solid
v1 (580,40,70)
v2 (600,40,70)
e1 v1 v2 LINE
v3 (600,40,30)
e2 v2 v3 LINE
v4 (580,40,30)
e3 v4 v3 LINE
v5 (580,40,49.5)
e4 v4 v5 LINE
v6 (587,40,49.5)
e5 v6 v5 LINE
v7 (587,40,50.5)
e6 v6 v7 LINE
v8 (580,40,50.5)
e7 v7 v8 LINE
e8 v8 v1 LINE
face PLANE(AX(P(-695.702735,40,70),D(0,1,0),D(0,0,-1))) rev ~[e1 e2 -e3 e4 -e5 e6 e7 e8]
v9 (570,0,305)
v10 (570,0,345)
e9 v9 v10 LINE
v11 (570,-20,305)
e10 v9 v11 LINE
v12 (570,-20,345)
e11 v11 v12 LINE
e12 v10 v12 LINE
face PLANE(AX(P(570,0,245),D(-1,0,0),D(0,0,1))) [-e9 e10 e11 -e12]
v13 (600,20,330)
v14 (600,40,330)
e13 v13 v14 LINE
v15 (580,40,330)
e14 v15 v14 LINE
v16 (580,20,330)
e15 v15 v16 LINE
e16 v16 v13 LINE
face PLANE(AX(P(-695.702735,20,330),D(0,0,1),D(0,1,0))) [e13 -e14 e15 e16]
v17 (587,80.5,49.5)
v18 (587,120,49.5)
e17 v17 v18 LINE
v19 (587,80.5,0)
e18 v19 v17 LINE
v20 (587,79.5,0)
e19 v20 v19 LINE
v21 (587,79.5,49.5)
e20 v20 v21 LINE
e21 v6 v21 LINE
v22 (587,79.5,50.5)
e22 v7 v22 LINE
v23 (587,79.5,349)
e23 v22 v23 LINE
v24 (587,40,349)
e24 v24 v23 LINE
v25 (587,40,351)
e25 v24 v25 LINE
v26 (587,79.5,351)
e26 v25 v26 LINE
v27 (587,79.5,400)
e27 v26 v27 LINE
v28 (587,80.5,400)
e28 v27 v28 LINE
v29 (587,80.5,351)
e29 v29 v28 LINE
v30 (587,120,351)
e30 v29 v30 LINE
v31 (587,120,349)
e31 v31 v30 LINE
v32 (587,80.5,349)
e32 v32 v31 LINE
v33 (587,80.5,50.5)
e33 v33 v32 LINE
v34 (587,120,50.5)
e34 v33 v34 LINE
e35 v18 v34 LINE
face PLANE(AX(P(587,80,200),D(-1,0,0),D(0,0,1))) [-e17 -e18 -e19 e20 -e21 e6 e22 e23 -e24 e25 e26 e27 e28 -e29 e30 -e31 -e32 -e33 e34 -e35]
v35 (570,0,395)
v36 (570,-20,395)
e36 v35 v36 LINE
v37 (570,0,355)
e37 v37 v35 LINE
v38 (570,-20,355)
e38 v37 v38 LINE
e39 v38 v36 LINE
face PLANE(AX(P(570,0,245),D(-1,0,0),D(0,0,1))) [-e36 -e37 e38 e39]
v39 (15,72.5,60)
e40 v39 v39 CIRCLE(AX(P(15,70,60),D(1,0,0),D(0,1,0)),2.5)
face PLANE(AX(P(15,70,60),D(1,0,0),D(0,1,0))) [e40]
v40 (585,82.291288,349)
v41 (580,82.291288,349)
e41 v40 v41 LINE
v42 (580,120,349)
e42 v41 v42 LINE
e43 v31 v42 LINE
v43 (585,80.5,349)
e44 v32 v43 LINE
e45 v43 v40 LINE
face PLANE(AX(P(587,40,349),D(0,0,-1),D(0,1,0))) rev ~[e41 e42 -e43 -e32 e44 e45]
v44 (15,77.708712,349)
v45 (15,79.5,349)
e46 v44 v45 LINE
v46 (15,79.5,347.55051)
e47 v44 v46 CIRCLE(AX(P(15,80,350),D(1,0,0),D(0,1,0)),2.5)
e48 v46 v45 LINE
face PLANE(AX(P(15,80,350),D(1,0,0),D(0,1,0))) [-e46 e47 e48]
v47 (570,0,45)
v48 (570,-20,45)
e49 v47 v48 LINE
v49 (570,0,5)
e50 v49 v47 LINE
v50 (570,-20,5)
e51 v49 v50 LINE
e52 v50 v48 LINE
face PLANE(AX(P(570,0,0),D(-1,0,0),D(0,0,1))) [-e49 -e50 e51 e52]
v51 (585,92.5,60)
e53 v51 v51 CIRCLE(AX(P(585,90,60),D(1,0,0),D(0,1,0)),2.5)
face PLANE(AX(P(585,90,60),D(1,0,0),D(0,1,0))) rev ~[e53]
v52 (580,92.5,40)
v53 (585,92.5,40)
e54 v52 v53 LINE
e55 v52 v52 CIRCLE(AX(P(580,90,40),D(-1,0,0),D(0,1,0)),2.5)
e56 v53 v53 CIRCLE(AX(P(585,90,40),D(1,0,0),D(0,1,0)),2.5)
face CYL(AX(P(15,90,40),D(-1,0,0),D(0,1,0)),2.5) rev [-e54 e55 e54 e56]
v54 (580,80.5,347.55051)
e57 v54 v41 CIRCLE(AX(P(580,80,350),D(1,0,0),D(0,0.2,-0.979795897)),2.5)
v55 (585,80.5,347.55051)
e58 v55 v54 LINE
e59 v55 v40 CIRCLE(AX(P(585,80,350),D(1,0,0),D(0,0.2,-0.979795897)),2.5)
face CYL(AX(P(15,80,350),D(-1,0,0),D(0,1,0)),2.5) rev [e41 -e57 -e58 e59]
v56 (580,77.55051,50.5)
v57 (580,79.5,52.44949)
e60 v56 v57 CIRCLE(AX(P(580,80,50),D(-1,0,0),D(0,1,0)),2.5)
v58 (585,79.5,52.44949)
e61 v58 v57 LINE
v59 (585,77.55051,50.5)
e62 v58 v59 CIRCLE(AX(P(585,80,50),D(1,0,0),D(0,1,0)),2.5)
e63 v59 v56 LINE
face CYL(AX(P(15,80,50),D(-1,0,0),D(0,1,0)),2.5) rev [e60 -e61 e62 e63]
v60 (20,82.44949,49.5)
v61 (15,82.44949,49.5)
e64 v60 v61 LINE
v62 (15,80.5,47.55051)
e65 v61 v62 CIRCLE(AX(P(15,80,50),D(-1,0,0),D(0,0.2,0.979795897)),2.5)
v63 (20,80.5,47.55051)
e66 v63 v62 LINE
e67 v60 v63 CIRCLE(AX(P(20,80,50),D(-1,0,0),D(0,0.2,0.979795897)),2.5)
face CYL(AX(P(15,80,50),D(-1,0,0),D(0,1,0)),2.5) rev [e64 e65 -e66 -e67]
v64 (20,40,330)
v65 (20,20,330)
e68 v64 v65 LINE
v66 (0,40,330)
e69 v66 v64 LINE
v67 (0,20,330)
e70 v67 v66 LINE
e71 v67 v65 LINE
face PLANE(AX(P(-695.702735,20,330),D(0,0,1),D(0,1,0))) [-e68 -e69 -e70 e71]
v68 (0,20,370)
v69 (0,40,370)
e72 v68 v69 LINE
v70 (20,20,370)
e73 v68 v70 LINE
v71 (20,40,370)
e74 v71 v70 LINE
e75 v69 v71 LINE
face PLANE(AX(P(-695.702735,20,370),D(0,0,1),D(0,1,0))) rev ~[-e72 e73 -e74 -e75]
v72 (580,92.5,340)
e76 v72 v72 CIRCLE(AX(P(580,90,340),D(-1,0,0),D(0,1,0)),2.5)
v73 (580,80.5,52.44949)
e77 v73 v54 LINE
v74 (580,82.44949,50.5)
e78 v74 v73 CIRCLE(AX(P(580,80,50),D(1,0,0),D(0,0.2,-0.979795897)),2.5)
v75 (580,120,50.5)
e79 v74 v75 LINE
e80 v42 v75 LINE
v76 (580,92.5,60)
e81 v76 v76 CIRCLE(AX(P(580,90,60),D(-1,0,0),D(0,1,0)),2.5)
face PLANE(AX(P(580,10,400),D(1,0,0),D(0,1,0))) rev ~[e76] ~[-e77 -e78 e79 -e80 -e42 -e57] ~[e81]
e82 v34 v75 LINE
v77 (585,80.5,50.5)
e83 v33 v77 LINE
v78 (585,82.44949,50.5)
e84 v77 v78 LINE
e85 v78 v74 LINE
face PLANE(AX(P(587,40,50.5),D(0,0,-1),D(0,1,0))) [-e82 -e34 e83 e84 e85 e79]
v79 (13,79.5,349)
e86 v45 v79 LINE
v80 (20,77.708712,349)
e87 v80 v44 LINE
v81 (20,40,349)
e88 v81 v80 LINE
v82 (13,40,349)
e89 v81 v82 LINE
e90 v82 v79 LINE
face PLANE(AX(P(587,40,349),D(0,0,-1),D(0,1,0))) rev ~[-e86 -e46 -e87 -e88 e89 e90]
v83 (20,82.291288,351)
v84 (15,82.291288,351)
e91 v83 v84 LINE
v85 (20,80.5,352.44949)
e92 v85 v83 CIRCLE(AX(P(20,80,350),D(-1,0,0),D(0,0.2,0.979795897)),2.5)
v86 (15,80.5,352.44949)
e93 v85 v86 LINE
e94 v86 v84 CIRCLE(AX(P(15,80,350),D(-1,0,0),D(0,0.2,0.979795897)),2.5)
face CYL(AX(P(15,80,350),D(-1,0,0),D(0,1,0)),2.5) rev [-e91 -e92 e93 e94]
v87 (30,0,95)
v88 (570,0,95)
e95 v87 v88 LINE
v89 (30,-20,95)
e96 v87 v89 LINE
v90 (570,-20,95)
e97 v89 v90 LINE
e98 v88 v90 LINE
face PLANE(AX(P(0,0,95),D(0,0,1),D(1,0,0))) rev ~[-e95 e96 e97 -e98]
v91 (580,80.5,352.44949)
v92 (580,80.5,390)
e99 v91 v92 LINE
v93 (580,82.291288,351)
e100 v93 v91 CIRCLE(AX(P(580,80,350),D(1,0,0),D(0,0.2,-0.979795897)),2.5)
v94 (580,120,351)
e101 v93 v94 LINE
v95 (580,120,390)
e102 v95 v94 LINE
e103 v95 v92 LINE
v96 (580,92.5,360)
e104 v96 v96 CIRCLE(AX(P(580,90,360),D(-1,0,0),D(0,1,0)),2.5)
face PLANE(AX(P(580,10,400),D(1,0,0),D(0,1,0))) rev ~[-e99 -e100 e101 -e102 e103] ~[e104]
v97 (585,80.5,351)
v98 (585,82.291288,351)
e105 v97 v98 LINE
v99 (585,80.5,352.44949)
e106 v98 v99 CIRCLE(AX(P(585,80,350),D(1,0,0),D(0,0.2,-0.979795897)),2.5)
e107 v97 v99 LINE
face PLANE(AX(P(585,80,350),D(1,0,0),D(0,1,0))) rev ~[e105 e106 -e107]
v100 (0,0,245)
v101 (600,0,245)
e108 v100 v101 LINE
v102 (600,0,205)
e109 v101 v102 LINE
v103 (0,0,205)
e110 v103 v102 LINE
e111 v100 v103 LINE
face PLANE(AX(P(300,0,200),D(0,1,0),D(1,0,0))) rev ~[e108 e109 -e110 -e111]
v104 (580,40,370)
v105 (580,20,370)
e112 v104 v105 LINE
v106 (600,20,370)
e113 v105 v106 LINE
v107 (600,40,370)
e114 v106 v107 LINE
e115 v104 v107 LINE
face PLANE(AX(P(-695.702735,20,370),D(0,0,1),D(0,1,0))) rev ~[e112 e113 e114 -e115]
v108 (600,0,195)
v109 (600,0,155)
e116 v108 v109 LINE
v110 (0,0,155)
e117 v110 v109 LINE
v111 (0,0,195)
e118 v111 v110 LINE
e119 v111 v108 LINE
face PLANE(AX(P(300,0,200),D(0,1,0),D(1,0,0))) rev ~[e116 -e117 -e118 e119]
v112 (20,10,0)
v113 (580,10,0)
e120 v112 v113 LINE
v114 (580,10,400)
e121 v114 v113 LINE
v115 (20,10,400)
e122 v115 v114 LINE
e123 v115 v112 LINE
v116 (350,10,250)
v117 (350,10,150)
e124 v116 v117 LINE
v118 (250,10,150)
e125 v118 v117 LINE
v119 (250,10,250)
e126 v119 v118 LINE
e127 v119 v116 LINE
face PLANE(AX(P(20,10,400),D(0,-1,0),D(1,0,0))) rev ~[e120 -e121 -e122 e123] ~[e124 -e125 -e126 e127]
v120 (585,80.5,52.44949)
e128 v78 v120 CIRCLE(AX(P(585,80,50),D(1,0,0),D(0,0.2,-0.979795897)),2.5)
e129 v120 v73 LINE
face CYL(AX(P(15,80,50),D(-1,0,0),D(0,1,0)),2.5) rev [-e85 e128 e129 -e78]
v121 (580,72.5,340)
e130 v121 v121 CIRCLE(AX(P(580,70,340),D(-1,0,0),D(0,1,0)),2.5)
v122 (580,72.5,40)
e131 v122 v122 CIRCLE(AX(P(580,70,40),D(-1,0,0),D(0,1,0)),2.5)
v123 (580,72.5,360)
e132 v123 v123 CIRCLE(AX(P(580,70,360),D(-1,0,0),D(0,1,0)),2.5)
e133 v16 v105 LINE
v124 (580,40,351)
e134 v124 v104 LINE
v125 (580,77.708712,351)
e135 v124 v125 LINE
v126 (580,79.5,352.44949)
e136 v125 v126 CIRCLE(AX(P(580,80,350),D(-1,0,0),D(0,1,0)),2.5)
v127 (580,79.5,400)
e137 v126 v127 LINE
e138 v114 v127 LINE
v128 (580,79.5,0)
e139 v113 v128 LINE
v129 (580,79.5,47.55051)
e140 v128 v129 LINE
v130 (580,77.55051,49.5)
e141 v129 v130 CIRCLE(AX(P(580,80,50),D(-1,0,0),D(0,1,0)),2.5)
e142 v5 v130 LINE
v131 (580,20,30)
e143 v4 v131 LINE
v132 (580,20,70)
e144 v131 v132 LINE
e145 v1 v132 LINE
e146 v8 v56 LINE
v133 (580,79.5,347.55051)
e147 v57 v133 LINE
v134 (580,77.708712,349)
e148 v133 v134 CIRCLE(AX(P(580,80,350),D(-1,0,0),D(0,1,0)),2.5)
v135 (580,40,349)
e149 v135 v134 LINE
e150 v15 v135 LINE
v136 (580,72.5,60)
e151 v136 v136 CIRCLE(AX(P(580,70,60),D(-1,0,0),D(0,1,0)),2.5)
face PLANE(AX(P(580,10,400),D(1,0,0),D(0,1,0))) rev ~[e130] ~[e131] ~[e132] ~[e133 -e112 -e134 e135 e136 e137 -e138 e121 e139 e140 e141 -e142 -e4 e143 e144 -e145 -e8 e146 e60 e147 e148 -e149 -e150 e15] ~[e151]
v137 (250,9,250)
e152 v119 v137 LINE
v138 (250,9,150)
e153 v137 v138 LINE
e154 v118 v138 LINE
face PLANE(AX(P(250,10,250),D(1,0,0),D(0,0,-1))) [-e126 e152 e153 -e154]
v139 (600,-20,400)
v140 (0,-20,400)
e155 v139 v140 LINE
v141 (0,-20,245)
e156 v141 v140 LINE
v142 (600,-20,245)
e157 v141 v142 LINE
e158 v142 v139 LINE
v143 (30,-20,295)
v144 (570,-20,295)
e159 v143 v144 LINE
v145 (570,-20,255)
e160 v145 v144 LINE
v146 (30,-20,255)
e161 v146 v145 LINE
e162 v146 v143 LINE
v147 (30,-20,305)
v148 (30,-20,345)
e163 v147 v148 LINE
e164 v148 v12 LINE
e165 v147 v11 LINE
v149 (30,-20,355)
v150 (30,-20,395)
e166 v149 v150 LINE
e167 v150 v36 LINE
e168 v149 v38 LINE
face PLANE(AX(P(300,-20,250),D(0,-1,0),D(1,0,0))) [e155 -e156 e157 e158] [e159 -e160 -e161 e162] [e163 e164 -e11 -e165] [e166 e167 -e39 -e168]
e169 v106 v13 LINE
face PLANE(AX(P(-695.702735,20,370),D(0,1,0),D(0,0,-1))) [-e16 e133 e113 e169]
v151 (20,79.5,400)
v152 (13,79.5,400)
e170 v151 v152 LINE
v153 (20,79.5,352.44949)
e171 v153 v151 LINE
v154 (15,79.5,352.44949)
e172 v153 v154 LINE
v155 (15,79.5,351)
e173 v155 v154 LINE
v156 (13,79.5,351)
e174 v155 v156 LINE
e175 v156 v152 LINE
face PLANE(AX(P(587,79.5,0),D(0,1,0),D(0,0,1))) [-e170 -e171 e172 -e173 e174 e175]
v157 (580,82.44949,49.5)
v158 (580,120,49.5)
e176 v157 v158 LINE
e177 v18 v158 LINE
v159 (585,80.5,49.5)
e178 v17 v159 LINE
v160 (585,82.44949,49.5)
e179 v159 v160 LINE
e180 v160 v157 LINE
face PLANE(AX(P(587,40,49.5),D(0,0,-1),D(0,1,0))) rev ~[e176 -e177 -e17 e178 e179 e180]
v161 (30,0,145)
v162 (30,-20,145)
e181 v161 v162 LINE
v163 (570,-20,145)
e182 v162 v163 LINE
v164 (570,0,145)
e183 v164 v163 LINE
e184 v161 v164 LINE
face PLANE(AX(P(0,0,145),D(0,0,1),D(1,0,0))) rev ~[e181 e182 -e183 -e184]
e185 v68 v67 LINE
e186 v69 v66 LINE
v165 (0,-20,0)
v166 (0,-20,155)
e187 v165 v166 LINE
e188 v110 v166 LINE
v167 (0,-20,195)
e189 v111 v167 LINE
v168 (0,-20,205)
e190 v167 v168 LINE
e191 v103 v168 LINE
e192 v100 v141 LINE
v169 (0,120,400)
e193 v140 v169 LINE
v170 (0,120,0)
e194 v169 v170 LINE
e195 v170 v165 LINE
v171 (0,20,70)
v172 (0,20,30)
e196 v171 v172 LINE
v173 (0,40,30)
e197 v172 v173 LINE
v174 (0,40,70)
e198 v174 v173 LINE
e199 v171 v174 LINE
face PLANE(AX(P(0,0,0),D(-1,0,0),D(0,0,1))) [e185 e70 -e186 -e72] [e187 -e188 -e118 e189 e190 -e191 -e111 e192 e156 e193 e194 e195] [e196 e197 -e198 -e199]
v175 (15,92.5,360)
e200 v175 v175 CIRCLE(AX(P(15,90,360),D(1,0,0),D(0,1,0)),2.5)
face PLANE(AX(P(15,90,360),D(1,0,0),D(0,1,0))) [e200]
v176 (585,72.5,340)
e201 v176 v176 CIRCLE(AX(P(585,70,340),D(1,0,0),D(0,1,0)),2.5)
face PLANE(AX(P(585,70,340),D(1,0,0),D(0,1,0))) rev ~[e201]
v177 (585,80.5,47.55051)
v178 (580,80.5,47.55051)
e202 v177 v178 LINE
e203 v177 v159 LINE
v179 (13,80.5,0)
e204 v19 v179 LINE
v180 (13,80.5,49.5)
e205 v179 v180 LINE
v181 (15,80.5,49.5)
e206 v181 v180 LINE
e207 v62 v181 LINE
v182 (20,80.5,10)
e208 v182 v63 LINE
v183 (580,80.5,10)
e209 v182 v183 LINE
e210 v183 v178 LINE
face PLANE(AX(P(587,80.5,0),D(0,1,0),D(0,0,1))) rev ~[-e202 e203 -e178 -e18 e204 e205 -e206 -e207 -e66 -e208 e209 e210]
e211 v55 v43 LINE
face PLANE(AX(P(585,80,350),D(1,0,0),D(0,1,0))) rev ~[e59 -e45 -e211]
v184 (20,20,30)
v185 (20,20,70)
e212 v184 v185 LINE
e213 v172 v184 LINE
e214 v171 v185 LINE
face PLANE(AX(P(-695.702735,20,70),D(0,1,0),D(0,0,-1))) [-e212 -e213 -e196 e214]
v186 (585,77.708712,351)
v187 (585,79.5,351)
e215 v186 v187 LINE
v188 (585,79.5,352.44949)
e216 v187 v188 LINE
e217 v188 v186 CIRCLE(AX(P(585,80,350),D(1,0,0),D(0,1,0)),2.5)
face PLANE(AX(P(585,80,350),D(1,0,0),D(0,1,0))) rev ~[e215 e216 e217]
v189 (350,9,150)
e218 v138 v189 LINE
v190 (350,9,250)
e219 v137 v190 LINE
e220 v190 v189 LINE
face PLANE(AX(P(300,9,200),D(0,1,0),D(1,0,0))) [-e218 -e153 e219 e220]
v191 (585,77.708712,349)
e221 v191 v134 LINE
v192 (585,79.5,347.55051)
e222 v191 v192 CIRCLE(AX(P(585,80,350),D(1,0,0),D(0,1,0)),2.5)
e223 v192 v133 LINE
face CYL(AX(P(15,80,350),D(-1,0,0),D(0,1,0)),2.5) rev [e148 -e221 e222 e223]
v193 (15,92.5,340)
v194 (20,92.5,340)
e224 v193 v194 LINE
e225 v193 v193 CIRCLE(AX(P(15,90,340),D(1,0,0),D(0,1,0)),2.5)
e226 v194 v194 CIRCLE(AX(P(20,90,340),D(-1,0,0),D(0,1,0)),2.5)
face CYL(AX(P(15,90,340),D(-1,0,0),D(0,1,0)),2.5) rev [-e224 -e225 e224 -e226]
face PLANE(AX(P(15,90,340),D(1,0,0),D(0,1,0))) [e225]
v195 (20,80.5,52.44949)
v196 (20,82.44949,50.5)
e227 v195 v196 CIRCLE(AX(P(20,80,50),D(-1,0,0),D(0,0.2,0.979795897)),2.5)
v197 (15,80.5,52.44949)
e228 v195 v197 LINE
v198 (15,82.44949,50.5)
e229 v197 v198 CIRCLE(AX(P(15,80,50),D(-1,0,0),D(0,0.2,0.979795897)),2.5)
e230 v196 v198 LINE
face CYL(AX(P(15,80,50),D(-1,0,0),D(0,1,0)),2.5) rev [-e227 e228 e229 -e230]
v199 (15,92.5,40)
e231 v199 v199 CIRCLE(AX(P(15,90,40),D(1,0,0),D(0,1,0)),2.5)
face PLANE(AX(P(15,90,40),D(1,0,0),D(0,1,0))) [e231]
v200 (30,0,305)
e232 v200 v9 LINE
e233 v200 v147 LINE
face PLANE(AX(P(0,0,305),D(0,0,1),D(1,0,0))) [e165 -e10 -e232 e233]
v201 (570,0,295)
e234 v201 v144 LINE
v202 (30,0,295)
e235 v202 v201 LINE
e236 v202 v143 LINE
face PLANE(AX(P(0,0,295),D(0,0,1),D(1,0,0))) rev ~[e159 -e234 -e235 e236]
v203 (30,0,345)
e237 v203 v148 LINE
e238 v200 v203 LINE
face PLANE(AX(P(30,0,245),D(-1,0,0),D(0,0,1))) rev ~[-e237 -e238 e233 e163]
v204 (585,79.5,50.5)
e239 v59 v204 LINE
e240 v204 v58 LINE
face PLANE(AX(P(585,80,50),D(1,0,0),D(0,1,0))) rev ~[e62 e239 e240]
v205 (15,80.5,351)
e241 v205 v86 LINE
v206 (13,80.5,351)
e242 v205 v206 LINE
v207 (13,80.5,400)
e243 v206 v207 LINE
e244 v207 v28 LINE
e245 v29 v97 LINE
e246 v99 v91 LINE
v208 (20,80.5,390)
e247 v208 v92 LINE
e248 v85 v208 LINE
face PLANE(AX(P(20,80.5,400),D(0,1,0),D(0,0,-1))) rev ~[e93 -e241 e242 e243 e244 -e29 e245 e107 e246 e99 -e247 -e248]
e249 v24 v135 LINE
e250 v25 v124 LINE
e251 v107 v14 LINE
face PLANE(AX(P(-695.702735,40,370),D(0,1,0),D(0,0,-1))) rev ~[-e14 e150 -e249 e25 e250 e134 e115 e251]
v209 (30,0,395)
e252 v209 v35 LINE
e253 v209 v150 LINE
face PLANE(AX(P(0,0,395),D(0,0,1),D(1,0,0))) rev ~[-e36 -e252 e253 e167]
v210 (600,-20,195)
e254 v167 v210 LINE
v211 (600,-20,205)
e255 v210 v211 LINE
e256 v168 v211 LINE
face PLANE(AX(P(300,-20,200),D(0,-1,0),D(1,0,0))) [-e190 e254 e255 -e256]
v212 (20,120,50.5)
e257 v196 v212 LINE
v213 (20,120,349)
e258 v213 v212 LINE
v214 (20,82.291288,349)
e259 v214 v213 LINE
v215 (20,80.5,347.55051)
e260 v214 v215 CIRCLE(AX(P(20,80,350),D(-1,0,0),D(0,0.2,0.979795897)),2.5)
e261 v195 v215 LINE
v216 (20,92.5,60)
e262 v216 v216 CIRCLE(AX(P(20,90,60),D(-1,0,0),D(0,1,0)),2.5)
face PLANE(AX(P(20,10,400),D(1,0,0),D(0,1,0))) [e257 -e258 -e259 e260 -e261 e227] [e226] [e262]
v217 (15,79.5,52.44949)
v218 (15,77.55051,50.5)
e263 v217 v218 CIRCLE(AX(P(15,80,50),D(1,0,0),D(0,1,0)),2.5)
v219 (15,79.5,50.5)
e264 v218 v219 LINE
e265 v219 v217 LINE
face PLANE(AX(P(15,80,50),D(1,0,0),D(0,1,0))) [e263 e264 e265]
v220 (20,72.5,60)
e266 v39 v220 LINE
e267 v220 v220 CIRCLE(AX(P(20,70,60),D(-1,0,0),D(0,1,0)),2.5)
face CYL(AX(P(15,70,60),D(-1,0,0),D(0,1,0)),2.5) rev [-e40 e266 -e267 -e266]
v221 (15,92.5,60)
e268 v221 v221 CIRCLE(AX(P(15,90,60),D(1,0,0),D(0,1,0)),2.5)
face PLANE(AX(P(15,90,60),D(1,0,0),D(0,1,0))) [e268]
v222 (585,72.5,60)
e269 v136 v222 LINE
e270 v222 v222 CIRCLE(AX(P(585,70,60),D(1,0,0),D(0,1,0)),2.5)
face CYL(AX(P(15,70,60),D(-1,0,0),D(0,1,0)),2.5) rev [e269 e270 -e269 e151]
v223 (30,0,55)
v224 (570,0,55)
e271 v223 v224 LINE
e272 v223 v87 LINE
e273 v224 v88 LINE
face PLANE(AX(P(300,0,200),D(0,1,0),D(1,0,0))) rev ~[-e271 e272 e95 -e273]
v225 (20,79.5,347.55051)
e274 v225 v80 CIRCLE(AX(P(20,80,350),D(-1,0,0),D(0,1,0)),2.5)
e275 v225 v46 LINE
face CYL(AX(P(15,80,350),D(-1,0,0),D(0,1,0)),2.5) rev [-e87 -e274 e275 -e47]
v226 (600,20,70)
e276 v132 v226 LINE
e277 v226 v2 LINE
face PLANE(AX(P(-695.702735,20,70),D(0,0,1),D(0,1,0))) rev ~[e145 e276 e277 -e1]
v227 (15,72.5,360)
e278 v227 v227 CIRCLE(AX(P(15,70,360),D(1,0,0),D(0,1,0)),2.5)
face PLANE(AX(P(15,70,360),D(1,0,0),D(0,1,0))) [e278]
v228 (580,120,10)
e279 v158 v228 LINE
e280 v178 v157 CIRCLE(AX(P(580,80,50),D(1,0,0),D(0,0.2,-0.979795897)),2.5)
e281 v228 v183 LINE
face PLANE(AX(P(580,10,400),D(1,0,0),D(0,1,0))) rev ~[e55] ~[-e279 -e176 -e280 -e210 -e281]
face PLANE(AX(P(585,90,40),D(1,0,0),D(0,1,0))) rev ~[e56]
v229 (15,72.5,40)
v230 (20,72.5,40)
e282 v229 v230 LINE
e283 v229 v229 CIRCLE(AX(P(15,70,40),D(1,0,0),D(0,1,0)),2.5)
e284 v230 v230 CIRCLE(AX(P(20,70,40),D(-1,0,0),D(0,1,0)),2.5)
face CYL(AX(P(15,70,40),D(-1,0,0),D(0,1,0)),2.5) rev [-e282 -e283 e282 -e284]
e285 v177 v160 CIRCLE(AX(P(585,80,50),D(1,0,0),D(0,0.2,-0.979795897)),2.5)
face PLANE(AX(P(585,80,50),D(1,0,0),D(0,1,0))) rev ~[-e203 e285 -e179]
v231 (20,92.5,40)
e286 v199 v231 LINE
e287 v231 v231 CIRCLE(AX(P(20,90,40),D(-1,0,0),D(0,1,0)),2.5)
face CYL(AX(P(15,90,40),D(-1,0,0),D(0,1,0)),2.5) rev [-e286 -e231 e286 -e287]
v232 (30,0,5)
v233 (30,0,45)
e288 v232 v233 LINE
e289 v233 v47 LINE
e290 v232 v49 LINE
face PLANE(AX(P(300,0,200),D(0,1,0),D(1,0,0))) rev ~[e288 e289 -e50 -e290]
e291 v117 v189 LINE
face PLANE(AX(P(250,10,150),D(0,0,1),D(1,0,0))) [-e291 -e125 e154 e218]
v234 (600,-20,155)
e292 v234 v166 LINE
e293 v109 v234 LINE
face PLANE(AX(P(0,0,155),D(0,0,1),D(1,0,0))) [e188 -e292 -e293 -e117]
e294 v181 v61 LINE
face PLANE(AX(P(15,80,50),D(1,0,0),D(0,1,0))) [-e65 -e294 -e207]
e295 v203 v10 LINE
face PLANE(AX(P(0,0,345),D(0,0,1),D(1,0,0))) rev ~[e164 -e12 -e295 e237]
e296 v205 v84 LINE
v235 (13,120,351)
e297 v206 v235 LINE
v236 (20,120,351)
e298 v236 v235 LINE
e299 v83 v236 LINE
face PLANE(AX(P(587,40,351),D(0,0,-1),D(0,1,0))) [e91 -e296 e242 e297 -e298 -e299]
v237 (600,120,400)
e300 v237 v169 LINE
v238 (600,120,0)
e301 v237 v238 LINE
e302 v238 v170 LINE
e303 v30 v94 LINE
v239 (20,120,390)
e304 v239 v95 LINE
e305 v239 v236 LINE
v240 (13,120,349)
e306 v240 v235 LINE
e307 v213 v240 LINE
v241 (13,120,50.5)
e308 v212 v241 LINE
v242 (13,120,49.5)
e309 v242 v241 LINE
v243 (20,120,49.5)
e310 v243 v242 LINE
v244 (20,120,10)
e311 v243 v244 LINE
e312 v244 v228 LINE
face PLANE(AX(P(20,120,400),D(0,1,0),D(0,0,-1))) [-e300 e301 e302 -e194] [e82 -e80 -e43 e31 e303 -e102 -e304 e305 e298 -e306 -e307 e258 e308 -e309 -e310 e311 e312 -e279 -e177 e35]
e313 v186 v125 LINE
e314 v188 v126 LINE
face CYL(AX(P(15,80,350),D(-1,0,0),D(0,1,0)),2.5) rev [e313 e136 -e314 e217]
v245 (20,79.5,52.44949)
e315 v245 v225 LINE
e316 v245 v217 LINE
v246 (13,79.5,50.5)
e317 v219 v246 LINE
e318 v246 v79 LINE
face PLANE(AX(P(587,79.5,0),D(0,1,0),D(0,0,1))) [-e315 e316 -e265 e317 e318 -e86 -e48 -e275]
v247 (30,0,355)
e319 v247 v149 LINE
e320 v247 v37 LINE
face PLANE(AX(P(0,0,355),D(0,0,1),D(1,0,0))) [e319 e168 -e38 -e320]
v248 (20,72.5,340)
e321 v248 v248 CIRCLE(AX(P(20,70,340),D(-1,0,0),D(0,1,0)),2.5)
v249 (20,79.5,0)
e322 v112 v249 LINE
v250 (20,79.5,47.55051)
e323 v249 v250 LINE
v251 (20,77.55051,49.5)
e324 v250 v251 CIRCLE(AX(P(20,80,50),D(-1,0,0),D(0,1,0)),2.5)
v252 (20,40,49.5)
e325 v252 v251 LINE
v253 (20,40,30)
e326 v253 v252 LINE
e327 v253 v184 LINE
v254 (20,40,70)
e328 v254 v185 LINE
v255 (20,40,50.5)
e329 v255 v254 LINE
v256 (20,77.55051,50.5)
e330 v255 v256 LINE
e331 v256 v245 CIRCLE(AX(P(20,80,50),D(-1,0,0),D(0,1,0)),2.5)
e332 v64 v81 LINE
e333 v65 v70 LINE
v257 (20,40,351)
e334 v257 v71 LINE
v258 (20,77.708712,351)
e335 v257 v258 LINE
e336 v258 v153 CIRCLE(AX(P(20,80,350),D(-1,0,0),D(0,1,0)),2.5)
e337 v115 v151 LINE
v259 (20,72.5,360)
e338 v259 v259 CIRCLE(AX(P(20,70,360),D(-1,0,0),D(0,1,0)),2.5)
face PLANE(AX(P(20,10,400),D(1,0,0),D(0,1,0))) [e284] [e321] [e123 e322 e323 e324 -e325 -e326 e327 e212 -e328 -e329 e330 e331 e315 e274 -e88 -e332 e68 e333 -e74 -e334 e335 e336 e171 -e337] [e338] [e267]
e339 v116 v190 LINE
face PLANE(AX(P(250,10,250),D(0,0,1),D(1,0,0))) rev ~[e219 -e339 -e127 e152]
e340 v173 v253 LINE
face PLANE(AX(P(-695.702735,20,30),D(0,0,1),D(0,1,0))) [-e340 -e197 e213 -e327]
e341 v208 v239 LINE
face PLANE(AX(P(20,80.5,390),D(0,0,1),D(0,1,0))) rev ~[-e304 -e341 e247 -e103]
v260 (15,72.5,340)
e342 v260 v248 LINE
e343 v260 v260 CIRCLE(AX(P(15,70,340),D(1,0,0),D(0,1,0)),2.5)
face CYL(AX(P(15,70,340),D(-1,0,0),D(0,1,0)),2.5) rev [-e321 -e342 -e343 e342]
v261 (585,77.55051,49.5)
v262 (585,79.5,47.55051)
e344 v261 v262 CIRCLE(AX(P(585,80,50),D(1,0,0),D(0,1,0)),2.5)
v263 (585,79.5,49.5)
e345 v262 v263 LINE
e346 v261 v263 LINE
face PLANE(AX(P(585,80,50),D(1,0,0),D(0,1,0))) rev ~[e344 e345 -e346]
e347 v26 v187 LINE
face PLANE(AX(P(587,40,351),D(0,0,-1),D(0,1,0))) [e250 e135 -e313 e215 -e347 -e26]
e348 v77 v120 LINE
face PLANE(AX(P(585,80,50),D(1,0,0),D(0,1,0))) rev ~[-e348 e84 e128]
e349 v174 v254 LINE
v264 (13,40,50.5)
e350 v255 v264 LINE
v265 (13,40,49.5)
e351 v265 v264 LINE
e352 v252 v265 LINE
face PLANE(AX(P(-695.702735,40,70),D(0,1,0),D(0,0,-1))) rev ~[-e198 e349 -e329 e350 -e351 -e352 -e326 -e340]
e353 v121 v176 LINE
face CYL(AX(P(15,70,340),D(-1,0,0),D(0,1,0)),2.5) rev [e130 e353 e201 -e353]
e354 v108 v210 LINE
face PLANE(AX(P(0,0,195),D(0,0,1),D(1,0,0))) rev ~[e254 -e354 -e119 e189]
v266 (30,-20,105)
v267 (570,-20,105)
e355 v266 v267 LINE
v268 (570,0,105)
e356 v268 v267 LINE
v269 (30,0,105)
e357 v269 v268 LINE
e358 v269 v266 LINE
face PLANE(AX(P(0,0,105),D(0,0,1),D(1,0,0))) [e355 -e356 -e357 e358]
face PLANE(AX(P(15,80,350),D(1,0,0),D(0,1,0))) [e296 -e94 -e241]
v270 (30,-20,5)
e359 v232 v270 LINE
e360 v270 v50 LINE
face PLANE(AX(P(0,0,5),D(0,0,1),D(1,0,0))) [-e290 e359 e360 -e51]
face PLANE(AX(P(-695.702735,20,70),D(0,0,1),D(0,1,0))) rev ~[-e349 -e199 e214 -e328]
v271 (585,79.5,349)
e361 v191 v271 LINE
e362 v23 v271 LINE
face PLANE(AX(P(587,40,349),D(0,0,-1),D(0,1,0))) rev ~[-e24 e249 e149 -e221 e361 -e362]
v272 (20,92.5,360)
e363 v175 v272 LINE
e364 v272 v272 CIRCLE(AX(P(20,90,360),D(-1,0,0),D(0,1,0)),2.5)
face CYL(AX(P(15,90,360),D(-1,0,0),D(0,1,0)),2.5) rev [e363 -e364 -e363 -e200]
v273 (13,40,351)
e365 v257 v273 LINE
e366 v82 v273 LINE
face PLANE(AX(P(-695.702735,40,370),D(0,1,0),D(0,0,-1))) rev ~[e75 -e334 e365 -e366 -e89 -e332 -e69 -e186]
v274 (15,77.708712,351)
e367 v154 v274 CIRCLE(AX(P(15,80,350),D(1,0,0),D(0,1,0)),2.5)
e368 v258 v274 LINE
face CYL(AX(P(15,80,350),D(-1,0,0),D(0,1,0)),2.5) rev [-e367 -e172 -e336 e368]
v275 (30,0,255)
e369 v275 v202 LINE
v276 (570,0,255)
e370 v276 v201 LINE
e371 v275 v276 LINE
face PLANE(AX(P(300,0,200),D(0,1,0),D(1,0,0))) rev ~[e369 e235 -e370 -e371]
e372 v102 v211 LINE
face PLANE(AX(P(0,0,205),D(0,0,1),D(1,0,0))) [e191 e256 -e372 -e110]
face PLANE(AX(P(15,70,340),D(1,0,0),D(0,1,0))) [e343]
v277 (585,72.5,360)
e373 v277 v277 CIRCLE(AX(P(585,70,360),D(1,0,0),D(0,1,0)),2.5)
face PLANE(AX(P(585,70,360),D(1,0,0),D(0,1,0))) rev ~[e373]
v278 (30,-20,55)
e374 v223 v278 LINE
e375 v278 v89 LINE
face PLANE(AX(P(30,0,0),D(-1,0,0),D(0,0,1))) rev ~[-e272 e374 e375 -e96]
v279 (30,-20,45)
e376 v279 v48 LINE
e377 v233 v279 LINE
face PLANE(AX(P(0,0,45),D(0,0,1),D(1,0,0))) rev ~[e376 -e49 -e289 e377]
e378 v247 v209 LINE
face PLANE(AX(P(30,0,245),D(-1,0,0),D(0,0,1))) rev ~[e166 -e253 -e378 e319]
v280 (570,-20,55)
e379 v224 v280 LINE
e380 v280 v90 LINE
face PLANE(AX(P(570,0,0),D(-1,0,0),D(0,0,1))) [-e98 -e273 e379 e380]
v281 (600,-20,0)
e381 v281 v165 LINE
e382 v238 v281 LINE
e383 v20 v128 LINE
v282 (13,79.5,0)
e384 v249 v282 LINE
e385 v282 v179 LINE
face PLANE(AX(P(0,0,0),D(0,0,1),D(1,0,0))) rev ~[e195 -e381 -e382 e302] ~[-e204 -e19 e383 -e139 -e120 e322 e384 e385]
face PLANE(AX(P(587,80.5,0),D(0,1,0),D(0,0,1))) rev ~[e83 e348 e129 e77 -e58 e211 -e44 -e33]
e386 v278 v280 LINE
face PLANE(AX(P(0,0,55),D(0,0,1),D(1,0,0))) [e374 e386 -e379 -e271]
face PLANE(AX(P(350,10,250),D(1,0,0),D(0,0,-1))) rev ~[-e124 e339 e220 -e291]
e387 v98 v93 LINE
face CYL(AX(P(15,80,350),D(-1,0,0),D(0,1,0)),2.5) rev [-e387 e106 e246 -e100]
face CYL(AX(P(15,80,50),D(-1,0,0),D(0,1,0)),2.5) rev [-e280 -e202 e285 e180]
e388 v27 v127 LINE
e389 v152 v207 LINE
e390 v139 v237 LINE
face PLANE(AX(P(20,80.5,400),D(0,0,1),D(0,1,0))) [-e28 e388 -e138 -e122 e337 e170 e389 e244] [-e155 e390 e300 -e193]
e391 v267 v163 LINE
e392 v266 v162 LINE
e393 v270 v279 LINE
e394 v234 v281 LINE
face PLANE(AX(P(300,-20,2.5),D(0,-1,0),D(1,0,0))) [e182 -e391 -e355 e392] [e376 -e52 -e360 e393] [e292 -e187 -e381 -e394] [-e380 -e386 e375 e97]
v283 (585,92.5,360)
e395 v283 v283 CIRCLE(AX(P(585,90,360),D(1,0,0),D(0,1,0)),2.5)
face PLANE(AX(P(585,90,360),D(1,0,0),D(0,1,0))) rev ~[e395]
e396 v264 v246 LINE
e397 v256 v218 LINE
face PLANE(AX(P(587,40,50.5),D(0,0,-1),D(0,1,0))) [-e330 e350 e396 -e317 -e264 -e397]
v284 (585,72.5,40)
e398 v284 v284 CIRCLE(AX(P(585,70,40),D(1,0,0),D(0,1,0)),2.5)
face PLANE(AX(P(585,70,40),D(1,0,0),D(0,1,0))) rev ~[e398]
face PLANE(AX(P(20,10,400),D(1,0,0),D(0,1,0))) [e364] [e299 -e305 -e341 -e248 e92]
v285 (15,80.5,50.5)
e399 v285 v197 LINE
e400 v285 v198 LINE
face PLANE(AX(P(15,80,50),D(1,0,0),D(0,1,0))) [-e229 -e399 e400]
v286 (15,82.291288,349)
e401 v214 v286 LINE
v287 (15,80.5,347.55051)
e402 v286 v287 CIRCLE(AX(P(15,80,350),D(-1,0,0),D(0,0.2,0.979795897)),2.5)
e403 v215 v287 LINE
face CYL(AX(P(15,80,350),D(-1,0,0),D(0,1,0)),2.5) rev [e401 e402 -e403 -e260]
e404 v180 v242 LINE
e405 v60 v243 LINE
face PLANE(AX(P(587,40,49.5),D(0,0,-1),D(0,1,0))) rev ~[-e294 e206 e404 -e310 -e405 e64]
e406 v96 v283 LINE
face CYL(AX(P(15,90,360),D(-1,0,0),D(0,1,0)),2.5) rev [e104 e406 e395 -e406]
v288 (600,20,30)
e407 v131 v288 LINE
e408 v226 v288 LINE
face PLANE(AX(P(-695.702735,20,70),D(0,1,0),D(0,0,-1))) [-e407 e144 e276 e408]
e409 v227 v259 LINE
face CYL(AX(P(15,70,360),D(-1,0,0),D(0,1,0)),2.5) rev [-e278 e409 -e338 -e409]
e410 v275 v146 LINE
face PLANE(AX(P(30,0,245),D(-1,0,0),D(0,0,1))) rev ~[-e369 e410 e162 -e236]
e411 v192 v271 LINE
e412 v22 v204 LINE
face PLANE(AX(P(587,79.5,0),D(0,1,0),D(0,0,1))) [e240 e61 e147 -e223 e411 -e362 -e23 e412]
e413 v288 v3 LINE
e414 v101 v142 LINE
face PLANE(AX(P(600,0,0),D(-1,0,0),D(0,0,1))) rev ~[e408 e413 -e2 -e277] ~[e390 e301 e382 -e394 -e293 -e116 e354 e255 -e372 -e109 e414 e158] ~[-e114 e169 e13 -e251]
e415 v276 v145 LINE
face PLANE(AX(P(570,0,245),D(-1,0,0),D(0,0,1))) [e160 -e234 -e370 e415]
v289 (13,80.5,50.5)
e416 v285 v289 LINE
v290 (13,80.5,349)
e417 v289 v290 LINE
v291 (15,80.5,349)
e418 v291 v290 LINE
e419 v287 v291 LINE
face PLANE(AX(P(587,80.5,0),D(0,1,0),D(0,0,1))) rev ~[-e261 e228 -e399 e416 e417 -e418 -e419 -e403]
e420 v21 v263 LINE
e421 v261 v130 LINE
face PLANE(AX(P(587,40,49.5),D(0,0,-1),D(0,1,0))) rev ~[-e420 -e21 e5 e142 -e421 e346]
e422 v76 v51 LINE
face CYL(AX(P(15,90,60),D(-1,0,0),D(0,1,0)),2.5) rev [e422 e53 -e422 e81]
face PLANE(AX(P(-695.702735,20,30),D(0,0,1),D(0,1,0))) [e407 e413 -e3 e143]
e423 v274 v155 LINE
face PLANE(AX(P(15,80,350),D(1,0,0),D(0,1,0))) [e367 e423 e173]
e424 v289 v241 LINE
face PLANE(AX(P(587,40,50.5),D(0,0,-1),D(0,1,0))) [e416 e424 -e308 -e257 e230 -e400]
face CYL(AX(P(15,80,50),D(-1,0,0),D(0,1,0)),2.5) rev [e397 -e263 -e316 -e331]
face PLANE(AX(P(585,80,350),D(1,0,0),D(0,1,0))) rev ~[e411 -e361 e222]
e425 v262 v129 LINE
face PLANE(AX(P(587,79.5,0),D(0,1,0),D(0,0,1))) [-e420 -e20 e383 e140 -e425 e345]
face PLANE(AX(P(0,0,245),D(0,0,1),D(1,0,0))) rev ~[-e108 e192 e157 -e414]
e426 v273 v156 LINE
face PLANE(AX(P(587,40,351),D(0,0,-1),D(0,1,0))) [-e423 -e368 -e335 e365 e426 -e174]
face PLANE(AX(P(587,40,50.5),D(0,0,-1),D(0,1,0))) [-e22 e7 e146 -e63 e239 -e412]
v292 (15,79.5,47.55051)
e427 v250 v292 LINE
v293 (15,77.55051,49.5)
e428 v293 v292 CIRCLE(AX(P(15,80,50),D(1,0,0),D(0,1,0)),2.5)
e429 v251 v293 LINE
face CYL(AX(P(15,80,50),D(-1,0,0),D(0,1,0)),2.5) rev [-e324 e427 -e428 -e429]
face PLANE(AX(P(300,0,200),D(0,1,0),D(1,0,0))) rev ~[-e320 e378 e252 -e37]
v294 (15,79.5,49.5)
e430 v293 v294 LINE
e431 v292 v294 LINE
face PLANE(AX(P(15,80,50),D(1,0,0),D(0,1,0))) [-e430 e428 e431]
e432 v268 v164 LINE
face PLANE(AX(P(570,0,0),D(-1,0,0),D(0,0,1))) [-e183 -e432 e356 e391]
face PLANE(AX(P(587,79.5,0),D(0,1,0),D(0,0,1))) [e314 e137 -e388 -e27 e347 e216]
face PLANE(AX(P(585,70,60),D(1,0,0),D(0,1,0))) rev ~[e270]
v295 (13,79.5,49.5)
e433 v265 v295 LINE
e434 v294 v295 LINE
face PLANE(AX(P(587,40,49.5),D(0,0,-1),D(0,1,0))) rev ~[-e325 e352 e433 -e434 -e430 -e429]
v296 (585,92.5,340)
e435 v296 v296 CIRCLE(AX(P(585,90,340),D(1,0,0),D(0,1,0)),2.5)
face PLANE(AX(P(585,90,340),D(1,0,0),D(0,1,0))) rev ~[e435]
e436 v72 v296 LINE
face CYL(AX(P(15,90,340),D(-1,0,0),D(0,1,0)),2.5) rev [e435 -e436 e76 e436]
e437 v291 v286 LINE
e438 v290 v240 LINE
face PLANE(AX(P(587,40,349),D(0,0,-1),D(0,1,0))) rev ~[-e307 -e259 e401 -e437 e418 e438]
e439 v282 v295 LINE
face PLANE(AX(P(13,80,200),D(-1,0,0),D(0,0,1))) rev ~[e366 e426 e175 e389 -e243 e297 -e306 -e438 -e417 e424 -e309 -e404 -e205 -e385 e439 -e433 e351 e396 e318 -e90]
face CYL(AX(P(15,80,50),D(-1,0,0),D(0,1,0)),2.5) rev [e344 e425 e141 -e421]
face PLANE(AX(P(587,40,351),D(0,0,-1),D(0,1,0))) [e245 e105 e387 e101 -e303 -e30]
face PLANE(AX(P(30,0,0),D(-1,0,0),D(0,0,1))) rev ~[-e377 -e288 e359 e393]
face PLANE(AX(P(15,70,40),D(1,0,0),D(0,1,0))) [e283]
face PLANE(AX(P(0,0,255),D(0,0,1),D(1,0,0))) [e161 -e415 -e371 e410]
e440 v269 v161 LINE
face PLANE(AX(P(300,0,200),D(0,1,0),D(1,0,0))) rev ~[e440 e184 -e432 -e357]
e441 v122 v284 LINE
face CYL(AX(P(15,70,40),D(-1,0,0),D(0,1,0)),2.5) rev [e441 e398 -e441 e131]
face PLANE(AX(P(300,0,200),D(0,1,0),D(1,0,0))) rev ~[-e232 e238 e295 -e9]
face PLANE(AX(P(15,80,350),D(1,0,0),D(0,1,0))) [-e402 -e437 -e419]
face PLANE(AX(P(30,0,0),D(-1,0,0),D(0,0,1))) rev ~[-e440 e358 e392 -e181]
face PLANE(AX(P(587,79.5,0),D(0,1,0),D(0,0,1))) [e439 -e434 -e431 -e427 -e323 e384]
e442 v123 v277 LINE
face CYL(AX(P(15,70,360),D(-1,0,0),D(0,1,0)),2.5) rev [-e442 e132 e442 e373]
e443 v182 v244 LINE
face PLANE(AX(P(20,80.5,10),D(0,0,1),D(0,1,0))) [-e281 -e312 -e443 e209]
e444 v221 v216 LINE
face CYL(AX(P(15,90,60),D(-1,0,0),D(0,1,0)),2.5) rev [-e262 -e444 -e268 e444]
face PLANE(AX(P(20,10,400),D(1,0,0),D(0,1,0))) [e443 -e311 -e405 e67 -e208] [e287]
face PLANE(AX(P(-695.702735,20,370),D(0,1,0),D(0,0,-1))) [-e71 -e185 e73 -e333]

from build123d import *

# Parameters (mm, degrees)
BASE_W                   = 600
BASE_H                   = 400
EXTRUDE_1_DEPTH          = 120
SKETCH_5_W               = 600
SKETCH_5_H               = 10
SKETCH_5_H_2             = 5
EXTRUDE_4_DEPTH          = 20
SKETCH_6_W               = 30
SKETCH_6_H               = 155
EXTRUDE_5_DEPTH          = 20
SKETCH_7_W               = 560
SKETCH_7_H               = 110
CUT_EXTRUDE_1_DEPTH      = 732.0266753
CUT_EXTRUDE_2_DEPTH      = 565
CUT_EXTRUDE_2_DEPTH_BACK = 5
SKETCH_8_R               = 2.5
CUT_EXTRUDE_3_DEPTH      = 715.702735408
CUT_EXTRUDE_3_DEPTH_BACK = 715.702735408
SKETCH_9_W               = 40
SKETCH_9_H               = 20
SKETCH_10_W              = 100
SKETCH_10_H              = 100
CUT_EXTRUDE_4_DEPTH      = 1
CUT_EXTRUDE_5_DEPTH      = 567
CUT_EXTRUDE_5_DEPTH_BACK = 7
SKETCH_11_W              = 400
SKETCH_11_H              = 1
CUT_EXTRUDE_7_DEPTH      = 567
CUT_EXTRUDE_7_DEPTH_BACK = 7
SKETCH_13_W              = 1
SKETCH_13_H              = 80
SKETCH_13_W_2            = 2
SKETCH_15_W              = 10
SKETCH_15_H              = 39.5
EXTRUDE_7_DEPTH          = 561


with BuildPart() as part:
    # base → 凸台-拉伸1 (new body)
    with BuildSketch(Plane(origin=(0, 0, 0), x_dir=(1, 0, 0), z_dir=(0, 1, 0))):
        with Locations((300, -200)):
            Rectangle(BASE_W, BASE_H)
    extrude(amount=EXTRUDE_1_DEPTH)

    # 草图5 → 凸台-拉伸4 (add)
    with BuildSketch(Plane.XZ):
        with Locations((300, 150)):
            Rectangle(SKETCH_5_W, SKETCH_5_H)
        with Locations((300, 100)):
            Rectangle(SKETCH_5_W, SKETCH_5_H)
        with Locations((300, 2.5)):
            Rectangle(SKETCH_5_W, SKETCH_5_H_2)
        with Locations((300, 50)):
            Rectangle(SKETCH_5_W, SKETCH_5_H)
        with Locations((300, 250)):
            Rectangle(SKETCH_5_W, SKETCH_5_H)
        with Locations((300, 200)):
            Rectangle(SKETCH_5_W, SKETCH_5_H)
        with Locations((300, 300)):
            Rectangle(SKETCH_5_W, SKETCH_5_H)
        with Locations((300, 350)):
            Rectangle(SKETCH_5_W, SKETCH_5_H)
        with Locations((300, 397.5)):
            Rectangle(SKETCH_5_W, SKETCH_5_H_2)
    extrude(amount=EXTRUDE_4_DEPTH)

    # 草图6 → 凸台-拉伸5 (add)
    with BuildSketch(Plane.XZ):
        with Locations((15, 322.5)):
            Rectangle(SKETCH_6_W, SKETCH_6_H)
        with Locations((15, 77.5)):
            Rectangle(SKETCH_6_W, SKETCH_6_H)
        with Locations((585, 322.5)):
            Rectangle(SKETCH_6_W, SKETCH_6_H)
        with Locations((585, 77.5)):
            Rectangle(SKETCH_6_W, SKETCH_6_H)
    extrude(amount=EXTRUDE_5_DEPTH)

    # 草图7 → 切除-拉伸1 (cut, through all)
    with BuildSketch(Plane.XY.offset(400)):
        with Locations((300, 65)):
            Rectangle(SKETCH_7_W, SKETCH_7_H)
    extrude(amount=-CUT_EXTRUDE_1_DEPTH, mode=Mode.SUBTRACT)

    # 草图8 → 切除-拉伸2 (cut, two sides: drawn at the far end of the back side and taken through both)
    with BuildSketch(Plane(origin=(20, 0, 0), x_dir=(0, 0, -1), z_dir=(1, 0, 0)).offset(-CUT_EXTRUDE_2_DEPTH_BACK)):
        with Locations(Location((-360, 90, 0), (0, 0, 90))):
            Circle(SKETCH_8_R)
        with Locations(Location((-60, 90, 0), (0, 0, 90))):
            Circle(SKETCH_8_R)
        with Locations(Location((-340, 70, 0), (0, 0, 90))):
            Circle(SKETCH_8_R)
        with Locations(Location((-360, 70, 0), (0, 0, 90))):
            Circle(SKETCH_8_R)
        with Locations(Location((-340, 90, 0), (0, 0, 90))):
            Circle(SKETCH_8_R)
        with Locations(Location((-60, 70, 0), (0, 0, 90))):
            Circle(SKETCH_8_R)
        with Locations(Location((-40, 70, 0), (0, 0, 90))):
            Circle(SKETCH_8_R)
        with Locations(Location((-40, 90, 0), (0, 0, 90))):
            Circle(SKETCH_8_R)
        with Locations(Location((-350, 80, 0), (0, 0, 90))):
            Circle(SKETCH_8_R)
        with Locations(Location((-50, 80, 0), (0, 0, 90))):
            Circle(SKETCH_8_R)
    extrude(amount=CUT_EXTRUDE_2_DEPTH + CUT_EXTRUDE_2_DEPTH_BACK, mode=Mode.SUBTRACT)

    # 草图9 → 切除-拉伸3 (cut, two sides: drawn at the far end of the back side and taken through both)
    with BuildSketch(Plane(origin=(20, 0, 0), x_dir=(0, 0, -1), z_dir=(1, 0, 0)).offset(-CUT_EXTRUDE_3_DEPTH_BACK)):
        with Locations((-350, 30)):
            Rectangle(SKETCH_9_W, SKETCH_9_H)
        with Locations((-50, 30)):
            Rectangle(SKETCH_9_W, SKETCH_9_H)
    extrude(amount=CUT_EXTRUDE_3_DEPTH + CUT_EXTRUDE_3_DEPTH_BACK, mode=Mode.SUBTRACT)

    # 草图10 → 切除-拉伸4 (cut)
    with BuildSketch(Plane(origin=(0, 10, 0), x_dir=(1, 0, 0), z_dir=(0, 1, 0))):
        with Locations((300, -200)):
            Rectangle(SKETCH_10_W, SKETCH_10_H)
    extrude(amount=-CUT_EXTRUDE_4_DEPTH, mode=Mode.SUBTRACT)

    # 草图11 → 切除-拉伸5 (cut, two sides: drawn at the far end of the back side and taken through both)
    with BuildSketch(Plane.ZY.offset(-580).offset(-CUT_EXTRUDE_5_DEPTH_BACK)):
        with Locations((200, 80)):
            Rectangle(SKETCH_11_W, SKETCH_11_H)
    extrude(amount=CUT_EXTRUDE_5_DEPTH + CUT_EXTRUDE_5_DEPTH_BACK, mode=Mode.SUBTRACT)

    # 草图13 → 切除-拉伸7 (cut, two sides: drawn at the far end of the back side and taken through both)
    with BuildSketch(Plane.ZY.offset(-580).offset(-CUT_EXTRUDE_7_DEPTH_BACK)):
        with Locations((50, 80)):
            Rectangle(SKETCH_13_W, SKETCH_13_H)
        with Locations((350, 80)):
            Rectangle(SKETCH_13_W_2, SKETCH_13_H)
    extrude(amount=CUT_EXTRUDE_7_DEPTH + CUT_EXTRUDE_7_DEPTH_BACK, mode=Mode.SUBTRACT)

    # 草图15 → 凸台-拉伸7 (add)
    with BuildSketch(Plane(origin=(20, 0, 0), x_dir=(0, 0, -1), z_dir=(1, 0, 0))):
        with Locations((-395, 100.25)):
            Rectangle(SKETCH_15_W, SKETCH_15_H)
        with Locations((-5, 100.25)):
            Rectangle(SKETCH_15_W, SKETCH_15_H)
    extrude(amount=EXTRUDE_7_DEPTH)


solid = part.part
